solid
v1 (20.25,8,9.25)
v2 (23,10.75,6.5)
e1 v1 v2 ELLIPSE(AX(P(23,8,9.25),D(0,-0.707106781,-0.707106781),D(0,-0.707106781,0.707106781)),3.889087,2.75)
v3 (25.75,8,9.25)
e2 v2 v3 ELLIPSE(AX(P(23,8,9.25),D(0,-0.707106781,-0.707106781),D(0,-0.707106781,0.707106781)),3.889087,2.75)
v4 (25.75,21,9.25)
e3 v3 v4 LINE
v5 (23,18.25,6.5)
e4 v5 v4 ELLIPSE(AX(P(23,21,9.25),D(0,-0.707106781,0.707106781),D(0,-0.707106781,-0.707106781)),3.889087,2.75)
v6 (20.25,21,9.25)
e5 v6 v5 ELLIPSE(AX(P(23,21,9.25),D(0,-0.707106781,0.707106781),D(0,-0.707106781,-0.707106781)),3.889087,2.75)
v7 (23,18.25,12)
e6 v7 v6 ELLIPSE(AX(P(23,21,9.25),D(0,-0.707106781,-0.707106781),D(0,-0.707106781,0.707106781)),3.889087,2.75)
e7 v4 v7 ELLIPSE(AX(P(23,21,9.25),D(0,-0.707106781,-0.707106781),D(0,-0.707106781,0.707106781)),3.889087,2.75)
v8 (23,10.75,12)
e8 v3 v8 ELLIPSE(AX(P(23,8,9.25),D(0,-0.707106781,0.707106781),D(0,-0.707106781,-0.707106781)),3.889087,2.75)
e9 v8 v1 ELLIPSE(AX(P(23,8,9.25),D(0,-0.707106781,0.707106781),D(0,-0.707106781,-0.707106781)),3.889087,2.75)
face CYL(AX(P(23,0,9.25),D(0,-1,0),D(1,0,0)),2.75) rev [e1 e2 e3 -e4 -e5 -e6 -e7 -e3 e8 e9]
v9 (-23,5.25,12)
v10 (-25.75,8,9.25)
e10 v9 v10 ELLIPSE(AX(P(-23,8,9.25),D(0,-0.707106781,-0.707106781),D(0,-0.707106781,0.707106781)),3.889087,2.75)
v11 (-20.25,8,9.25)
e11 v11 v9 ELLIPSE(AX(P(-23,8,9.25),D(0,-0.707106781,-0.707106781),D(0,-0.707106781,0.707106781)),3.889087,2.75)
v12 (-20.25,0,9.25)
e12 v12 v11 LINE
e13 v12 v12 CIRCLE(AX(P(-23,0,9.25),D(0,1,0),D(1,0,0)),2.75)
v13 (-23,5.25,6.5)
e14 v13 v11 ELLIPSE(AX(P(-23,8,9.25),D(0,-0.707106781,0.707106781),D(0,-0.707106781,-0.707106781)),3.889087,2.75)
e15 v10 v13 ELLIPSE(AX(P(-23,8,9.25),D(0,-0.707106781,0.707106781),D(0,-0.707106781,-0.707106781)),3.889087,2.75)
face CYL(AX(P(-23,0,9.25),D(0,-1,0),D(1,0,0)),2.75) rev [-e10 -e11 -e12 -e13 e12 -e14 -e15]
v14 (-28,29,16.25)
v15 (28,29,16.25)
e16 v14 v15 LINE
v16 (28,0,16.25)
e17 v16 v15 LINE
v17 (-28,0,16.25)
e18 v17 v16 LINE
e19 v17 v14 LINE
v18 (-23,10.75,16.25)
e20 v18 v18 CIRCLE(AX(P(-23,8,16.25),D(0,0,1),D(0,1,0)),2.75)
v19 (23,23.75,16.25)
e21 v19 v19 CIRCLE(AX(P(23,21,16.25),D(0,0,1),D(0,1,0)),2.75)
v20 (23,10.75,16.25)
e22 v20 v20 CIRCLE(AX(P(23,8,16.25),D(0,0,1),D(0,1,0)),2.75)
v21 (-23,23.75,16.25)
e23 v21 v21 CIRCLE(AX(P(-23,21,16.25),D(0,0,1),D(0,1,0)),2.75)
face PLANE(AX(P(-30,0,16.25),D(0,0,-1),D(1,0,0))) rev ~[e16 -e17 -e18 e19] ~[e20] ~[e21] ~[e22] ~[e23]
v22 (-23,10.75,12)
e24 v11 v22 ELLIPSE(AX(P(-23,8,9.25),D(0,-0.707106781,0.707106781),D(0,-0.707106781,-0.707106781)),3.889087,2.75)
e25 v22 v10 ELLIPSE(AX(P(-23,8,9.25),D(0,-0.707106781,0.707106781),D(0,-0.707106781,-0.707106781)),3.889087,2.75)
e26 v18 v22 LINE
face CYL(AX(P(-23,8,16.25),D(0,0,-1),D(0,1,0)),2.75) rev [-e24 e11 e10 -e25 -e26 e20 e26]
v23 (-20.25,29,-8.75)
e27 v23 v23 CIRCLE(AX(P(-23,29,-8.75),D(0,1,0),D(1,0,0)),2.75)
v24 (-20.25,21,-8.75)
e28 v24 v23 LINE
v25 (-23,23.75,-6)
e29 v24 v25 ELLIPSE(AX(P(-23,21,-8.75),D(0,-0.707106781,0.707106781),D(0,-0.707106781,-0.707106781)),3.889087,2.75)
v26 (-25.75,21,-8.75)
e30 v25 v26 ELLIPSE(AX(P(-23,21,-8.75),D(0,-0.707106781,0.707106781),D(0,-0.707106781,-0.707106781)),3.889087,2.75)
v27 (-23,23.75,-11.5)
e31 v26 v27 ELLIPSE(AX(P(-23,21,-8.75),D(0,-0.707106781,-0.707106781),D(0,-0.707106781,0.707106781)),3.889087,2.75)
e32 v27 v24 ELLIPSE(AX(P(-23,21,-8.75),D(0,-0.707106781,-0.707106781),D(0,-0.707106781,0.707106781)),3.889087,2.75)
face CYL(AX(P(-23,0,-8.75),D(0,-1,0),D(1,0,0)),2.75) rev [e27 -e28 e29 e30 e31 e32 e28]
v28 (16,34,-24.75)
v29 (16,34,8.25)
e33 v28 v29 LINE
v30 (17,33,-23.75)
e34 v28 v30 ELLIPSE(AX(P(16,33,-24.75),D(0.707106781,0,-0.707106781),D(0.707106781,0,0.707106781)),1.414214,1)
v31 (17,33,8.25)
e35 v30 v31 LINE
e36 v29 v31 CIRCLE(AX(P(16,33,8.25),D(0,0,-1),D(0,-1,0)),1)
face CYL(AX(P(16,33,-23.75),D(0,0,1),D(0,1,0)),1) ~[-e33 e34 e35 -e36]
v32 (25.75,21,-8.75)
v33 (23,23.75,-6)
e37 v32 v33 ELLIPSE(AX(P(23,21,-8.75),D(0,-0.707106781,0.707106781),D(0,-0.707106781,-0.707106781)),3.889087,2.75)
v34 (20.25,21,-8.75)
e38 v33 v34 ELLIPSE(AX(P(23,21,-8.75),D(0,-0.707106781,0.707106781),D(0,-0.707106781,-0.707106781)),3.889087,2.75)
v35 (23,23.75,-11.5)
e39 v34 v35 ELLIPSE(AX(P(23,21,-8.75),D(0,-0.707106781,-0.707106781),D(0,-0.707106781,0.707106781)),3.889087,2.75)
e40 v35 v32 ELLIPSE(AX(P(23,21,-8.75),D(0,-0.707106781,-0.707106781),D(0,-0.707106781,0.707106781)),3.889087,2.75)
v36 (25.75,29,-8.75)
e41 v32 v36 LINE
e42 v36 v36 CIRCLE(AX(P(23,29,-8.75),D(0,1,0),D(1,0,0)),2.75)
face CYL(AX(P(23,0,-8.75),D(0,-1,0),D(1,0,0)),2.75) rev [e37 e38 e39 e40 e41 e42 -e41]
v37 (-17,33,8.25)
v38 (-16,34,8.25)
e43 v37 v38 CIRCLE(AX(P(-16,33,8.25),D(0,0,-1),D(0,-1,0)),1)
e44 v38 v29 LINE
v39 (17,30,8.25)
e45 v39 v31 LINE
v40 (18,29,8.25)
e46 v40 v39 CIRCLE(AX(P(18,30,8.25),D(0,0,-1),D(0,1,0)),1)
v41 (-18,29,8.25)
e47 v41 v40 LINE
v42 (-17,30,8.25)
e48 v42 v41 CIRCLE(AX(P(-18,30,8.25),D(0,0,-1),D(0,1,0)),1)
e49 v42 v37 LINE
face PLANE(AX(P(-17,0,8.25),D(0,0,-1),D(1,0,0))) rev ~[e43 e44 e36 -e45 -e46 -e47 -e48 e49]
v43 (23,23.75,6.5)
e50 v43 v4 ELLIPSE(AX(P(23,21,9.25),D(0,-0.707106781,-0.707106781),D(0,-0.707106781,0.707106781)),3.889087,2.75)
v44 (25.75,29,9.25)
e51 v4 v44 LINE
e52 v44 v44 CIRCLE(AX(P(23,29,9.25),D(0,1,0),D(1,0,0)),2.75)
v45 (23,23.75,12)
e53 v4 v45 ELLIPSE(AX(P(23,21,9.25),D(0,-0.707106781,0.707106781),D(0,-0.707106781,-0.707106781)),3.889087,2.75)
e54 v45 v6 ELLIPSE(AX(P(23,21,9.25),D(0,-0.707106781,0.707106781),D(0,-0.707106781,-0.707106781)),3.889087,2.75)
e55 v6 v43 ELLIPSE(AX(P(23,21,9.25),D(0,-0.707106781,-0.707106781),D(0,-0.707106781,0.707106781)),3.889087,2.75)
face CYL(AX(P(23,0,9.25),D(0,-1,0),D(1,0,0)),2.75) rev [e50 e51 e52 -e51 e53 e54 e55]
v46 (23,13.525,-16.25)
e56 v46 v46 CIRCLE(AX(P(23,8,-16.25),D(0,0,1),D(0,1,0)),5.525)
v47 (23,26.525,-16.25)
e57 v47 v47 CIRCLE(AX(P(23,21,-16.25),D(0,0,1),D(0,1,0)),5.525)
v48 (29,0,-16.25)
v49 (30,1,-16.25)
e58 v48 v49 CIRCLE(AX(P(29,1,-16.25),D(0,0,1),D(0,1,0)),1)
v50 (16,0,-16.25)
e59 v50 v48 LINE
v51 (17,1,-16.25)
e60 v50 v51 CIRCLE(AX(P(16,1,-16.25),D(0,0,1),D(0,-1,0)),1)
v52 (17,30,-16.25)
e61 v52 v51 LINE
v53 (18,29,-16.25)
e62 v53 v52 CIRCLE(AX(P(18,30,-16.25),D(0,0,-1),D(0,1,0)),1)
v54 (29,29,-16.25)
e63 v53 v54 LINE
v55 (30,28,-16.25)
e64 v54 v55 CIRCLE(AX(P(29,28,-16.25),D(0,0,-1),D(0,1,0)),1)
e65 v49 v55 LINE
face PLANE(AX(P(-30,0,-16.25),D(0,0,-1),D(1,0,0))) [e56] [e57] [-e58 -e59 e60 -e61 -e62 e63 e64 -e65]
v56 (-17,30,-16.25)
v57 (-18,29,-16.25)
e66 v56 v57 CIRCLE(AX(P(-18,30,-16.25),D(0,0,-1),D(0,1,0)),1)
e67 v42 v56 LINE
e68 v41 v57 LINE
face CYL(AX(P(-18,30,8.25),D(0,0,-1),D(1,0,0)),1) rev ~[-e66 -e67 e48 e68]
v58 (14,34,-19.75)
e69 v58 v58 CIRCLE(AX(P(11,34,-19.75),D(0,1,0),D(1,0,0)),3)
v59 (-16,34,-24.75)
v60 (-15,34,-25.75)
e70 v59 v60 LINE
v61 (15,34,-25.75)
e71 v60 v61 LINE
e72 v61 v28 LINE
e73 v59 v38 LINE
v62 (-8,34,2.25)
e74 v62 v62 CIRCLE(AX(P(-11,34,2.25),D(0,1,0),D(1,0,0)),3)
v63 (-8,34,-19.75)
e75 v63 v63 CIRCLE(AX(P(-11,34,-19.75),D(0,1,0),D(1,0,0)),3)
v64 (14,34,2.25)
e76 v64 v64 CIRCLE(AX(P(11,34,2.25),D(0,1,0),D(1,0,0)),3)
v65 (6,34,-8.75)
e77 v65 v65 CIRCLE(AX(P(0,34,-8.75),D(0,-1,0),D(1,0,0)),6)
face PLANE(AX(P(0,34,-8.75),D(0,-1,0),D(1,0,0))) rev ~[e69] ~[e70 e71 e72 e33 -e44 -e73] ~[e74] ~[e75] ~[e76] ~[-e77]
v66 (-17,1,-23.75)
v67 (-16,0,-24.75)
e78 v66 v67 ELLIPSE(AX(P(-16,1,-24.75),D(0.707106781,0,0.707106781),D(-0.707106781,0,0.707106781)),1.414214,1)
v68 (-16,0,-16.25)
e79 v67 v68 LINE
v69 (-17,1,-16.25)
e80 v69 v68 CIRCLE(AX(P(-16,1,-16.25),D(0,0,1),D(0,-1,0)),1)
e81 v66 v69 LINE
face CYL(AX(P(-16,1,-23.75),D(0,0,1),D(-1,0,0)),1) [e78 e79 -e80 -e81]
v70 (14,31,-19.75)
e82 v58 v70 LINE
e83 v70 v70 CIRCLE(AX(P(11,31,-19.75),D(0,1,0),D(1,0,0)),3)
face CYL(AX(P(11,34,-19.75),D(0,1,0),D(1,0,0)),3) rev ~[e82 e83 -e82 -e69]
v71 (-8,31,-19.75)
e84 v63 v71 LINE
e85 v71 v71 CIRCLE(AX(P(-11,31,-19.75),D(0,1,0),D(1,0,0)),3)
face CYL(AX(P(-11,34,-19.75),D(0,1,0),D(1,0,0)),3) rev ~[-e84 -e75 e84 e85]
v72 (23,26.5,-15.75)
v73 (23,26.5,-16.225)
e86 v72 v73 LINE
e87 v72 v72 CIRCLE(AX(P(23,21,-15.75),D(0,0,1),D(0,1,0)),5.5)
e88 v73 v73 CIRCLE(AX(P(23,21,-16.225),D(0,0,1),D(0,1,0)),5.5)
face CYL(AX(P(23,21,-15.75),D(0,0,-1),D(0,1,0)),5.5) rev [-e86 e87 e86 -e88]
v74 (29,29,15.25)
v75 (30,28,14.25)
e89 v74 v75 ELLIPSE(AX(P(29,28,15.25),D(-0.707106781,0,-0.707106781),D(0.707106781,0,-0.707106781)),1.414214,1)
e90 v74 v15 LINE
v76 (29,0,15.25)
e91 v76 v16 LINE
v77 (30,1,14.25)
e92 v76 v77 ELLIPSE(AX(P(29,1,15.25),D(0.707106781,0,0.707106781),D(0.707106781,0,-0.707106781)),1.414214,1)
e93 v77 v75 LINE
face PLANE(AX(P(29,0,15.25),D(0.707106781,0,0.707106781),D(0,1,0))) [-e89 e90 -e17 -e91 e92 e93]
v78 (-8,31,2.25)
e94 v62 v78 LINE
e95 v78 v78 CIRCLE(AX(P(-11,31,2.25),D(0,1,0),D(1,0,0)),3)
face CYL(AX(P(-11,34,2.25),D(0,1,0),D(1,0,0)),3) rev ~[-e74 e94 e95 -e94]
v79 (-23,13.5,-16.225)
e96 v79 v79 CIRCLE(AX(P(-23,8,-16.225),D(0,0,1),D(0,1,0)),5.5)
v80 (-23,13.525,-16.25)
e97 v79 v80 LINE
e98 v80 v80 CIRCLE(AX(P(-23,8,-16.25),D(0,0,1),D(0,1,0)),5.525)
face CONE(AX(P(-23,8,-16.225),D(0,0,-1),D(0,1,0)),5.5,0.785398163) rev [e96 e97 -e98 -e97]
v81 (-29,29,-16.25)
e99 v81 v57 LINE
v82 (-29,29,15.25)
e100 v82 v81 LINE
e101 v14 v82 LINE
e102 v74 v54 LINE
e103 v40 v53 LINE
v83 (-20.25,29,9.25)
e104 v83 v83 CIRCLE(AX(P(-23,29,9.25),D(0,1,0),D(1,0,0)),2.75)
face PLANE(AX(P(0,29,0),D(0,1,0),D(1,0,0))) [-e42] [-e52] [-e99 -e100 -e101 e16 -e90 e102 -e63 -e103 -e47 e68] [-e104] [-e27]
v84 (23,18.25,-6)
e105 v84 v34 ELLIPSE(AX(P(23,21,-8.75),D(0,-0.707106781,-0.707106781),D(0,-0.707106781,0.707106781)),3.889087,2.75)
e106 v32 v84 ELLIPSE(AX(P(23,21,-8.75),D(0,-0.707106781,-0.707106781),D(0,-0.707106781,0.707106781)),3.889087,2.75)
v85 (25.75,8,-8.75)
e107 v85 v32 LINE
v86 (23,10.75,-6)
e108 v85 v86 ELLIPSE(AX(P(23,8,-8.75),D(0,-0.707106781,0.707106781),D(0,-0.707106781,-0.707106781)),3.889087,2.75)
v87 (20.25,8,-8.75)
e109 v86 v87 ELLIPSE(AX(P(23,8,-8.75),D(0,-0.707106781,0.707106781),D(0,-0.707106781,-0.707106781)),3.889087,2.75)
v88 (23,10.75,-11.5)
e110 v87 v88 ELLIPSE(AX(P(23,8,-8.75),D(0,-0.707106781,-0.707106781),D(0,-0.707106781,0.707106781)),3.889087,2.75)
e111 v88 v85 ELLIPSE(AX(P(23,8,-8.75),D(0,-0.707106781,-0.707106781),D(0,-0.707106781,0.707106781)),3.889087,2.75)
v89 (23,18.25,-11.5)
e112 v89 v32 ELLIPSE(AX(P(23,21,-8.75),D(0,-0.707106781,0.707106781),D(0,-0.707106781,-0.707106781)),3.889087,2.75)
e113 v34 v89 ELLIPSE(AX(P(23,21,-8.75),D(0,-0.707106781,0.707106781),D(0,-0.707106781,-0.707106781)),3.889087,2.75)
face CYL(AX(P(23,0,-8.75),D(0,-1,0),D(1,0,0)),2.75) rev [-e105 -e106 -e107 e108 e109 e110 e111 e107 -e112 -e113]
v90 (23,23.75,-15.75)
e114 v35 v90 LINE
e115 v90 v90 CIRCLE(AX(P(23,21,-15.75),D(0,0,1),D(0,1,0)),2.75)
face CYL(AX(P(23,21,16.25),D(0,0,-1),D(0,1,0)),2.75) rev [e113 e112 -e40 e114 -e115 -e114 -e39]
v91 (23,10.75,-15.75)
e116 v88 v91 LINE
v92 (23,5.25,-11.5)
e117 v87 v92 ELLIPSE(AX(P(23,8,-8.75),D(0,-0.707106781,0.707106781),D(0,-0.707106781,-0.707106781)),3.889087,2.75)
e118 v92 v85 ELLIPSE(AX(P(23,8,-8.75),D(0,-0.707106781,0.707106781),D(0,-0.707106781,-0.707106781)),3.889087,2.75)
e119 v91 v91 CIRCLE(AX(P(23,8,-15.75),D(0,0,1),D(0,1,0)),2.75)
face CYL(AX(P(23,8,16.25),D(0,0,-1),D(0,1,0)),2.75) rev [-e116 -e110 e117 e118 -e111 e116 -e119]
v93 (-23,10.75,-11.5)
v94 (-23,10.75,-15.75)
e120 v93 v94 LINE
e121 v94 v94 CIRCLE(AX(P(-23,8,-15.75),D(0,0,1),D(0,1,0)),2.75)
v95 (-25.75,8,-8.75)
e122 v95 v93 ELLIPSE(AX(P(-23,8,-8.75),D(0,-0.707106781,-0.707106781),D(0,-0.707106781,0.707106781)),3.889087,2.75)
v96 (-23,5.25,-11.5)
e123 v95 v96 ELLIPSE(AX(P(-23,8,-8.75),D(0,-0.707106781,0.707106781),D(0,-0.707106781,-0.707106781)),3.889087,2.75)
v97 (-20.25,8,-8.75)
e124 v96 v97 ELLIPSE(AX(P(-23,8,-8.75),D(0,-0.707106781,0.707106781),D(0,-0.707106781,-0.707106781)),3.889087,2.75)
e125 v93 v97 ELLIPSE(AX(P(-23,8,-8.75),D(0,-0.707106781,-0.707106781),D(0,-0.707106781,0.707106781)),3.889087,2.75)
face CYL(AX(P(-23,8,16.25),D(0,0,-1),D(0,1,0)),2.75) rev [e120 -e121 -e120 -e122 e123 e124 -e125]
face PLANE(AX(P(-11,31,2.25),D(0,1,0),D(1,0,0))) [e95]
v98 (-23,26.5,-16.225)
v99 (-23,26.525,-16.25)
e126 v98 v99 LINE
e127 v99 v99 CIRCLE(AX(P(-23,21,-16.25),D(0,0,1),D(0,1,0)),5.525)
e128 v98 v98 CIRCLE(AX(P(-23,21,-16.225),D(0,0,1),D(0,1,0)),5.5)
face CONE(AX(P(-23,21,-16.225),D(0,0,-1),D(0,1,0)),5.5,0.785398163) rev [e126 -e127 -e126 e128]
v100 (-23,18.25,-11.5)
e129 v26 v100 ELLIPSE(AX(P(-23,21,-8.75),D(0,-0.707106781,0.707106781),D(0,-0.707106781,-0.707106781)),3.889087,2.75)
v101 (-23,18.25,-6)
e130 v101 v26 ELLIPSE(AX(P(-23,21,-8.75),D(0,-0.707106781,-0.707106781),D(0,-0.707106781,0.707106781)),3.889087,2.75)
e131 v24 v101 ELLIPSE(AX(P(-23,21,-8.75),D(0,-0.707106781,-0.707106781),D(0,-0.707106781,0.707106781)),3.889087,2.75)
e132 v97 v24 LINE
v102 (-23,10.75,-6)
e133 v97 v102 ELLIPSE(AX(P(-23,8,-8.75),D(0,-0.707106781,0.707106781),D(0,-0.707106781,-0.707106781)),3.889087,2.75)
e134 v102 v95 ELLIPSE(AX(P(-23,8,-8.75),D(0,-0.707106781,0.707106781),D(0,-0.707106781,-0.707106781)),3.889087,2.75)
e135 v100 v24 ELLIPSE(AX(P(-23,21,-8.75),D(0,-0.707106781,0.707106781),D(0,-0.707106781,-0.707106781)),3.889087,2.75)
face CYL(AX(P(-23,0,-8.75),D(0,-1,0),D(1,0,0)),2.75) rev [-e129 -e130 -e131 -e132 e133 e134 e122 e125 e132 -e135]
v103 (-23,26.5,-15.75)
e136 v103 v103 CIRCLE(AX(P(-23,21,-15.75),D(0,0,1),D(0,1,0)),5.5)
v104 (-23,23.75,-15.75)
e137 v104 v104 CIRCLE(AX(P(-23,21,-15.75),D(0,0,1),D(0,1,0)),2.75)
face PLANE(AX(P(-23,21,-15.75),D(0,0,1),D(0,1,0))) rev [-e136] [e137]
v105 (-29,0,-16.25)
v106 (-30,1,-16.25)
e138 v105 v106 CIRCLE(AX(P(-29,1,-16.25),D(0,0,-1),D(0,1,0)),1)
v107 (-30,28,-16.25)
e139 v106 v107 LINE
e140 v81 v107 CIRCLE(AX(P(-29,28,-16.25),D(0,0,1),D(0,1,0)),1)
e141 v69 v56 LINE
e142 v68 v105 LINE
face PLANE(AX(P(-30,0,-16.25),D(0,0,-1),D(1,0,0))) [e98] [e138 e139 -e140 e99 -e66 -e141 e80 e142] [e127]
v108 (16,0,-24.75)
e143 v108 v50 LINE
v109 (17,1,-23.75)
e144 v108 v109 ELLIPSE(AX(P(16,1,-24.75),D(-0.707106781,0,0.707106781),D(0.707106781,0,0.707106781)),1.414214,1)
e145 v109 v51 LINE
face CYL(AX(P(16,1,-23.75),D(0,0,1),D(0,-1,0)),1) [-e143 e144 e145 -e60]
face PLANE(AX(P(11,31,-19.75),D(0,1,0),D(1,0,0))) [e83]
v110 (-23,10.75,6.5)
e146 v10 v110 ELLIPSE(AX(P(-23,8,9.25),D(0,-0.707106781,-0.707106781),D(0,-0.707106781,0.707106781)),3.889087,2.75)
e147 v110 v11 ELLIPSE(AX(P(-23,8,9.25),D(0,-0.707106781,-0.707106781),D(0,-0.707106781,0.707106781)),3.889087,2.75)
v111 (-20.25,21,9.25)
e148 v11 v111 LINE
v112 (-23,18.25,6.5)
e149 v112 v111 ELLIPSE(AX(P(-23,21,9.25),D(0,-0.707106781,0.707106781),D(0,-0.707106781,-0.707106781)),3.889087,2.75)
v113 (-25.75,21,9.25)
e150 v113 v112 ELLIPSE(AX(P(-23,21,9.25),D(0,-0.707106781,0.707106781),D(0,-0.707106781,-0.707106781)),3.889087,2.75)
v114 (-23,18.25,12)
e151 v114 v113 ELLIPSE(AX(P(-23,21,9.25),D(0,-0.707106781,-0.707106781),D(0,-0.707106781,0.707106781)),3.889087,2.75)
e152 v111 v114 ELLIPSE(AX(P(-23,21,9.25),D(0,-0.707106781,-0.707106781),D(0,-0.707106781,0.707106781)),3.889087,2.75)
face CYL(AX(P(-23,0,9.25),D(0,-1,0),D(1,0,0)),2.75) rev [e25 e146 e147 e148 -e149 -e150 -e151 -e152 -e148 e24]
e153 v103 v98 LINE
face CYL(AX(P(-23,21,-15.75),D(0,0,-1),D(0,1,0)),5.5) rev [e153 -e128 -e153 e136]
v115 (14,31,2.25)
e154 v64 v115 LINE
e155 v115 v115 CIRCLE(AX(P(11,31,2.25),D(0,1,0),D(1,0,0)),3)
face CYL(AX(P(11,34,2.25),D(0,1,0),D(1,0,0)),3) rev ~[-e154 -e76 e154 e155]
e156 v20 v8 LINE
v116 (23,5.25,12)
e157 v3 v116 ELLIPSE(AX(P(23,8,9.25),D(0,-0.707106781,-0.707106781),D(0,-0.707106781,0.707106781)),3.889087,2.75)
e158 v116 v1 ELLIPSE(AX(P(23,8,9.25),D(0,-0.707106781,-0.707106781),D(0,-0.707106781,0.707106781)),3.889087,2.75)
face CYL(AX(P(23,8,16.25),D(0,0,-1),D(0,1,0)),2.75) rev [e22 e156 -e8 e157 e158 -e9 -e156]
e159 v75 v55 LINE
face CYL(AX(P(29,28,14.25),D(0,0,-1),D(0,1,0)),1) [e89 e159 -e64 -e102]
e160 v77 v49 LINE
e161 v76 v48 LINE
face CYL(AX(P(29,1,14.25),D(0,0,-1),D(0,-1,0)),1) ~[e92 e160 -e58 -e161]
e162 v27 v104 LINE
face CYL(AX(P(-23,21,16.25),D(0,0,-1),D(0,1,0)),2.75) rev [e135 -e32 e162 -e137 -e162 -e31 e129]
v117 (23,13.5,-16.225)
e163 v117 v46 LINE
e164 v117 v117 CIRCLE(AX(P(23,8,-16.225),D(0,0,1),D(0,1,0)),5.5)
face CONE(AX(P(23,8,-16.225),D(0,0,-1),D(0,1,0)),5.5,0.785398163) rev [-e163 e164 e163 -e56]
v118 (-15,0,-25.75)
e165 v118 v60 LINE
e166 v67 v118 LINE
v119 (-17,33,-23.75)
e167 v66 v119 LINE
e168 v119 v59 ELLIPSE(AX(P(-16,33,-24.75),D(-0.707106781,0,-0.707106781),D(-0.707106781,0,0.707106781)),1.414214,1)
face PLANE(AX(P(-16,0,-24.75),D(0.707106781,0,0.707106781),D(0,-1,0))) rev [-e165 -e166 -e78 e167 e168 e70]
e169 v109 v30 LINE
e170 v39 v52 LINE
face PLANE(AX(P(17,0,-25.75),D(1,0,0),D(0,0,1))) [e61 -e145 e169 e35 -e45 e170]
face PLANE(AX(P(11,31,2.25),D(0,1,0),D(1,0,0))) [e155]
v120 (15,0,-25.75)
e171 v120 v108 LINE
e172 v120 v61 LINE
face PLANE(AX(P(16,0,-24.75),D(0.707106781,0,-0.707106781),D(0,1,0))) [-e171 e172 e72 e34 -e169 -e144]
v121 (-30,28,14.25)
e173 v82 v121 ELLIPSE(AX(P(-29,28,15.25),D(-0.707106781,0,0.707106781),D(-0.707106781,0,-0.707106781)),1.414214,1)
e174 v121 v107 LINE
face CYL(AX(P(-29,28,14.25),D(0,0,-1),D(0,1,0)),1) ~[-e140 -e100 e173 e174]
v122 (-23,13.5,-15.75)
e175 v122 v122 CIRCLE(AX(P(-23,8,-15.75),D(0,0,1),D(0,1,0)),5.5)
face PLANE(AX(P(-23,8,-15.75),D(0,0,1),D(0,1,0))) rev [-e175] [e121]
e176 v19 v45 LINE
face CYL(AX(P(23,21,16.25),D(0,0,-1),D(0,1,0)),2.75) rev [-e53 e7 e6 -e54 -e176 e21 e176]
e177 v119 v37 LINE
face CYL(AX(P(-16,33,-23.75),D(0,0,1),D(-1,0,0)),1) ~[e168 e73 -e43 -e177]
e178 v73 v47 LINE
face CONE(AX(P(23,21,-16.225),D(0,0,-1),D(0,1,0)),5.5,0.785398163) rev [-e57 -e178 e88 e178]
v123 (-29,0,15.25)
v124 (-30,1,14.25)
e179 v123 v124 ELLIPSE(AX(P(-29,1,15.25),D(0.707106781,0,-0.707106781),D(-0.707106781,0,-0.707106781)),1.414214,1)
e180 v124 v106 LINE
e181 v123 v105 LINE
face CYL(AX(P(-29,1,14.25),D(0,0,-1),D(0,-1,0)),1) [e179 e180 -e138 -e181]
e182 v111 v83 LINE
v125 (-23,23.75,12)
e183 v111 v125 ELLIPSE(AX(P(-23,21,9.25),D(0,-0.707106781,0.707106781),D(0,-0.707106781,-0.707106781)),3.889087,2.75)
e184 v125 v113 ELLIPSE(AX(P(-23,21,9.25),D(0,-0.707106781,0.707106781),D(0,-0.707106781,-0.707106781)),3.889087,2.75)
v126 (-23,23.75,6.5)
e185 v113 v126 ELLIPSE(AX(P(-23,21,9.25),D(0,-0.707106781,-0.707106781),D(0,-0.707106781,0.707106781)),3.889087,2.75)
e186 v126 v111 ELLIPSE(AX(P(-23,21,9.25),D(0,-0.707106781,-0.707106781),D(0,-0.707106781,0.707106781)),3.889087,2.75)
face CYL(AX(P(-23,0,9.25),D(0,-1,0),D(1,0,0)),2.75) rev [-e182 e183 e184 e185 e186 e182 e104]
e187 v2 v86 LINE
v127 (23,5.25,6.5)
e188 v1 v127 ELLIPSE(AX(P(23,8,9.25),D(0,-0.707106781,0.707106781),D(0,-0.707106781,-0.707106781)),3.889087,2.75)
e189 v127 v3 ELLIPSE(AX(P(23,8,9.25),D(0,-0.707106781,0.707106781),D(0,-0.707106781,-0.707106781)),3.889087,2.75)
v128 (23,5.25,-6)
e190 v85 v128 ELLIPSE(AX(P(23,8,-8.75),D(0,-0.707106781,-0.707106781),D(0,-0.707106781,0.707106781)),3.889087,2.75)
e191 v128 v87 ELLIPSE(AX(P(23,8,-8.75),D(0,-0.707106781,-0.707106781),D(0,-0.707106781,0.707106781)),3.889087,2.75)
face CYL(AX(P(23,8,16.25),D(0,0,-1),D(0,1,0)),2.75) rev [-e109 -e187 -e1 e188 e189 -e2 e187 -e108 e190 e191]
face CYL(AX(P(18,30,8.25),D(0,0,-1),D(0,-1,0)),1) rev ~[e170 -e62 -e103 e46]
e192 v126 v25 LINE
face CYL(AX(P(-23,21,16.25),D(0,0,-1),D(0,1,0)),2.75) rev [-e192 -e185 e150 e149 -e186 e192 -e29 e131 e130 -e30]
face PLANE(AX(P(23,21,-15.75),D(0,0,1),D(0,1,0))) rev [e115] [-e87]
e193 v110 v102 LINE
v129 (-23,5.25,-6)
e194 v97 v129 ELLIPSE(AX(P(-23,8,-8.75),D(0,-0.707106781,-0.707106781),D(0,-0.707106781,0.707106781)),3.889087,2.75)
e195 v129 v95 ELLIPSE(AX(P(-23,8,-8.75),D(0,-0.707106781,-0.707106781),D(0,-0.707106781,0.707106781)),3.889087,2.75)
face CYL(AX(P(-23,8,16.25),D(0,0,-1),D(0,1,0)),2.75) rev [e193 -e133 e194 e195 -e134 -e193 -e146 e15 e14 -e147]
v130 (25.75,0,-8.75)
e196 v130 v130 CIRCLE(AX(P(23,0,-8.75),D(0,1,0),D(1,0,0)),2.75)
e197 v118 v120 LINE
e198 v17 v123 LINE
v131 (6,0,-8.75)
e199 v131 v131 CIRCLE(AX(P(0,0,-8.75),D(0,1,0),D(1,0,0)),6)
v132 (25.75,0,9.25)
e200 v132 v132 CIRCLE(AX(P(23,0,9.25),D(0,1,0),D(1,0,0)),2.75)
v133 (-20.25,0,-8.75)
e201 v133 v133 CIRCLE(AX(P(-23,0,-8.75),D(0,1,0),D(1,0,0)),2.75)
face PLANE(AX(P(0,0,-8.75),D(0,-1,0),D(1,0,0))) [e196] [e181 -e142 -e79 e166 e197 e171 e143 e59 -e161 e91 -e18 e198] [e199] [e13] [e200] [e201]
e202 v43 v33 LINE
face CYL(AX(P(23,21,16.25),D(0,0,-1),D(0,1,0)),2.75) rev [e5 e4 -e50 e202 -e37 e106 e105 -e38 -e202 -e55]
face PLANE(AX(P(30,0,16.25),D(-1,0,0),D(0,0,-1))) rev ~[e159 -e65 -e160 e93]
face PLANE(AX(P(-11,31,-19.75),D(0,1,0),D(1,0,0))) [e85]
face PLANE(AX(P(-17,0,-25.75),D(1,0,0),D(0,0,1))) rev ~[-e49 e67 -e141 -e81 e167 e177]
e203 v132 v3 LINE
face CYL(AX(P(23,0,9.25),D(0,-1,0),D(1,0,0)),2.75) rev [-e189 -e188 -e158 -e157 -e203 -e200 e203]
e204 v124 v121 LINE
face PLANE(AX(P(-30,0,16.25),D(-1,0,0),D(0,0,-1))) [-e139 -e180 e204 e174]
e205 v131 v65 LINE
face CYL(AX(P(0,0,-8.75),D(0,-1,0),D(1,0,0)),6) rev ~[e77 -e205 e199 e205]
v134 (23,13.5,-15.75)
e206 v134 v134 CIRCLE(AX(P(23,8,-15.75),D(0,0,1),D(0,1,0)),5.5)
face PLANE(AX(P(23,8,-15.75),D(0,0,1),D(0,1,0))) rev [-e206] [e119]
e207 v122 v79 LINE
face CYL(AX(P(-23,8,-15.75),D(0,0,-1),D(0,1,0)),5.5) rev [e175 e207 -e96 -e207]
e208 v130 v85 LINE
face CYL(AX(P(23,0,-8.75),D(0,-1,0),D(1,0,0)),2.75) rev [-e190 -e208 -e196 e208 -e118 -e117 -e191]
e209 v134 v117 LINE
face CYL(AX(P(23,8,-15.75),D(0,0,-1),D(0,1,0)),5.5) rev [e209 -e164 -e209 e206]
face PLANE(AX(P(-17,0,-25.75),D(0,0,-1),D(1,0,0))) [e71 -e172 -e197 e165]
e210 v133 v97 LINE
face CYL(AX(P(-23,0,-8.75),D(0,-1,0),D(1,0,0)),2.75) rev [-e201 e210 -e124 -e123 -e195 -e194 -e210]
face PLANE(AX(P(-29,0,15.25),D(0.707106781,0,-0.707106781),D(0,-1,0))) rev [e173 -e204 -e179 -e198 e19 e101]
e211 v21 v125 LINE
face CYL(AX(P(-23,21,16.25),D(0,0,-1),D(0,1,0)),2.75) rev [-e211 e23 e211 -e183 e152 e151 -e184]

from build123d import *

# Parameters (mm, degrees)
SKETCH_1_W                  = 60
SKETCH_1_H                  = 32.5
SKETCH_1_R                  = 6
SKETCH_1_R_2                = 2.75
EXTRUDE_1_DEPTH             = 29
SKETCH_2_W                  = 34
SKETCH_2_H                  = 34
SKETCH_2_R                  = 6
EXTRUDE_2_DEPTH             = 34
SKETCH_3_R                  = 3
CUT_EXTRUDE_1_DEPTH         = 3
CHAMFER_1_SIZE              = 2
FILLET_1_R                  = 1
HOLE_WIZARD_M5_1_AT_2_COUNT = 2
HOLE_WIZARD_M5_1_AT_2_PITCH = 13
HOLE_WIZARD_M5_1_AT_3_COUNT = 2
HOLE_WIZARD_M5_1_AT_3_PITCH = 46
HOLE_WIZARD_M5_1_AT_4_COUNT = 2
HOLE_WIZARD_M5_1_AT_4_PITCH = 47.801673611


with BuildPart() as part:
    # 草图1 → 凸台-拉伸1 (new body)
    with BuildSketch(Plane(origin=(0, 0, 0), x_dir=(1, 0, 0), z_dir=(0, 1, 0))):
        Rectangle(SKETCH_1_W, SKETCH_1_H)
        with Locations((0, 8.75)):
            Circle(SKETCH_1_R, mode=Mode.SUBTRACT)
        with Locations((-23, 8.75)):
            Circle(SKETCH_1_R_2, mode=Mode.SUBTRACT)
        with Locations((-23, -9.25)):
            Circle(SKETCH_1_R_2, mode=Mode.SUBTRACT)
        with Locations((23, -9.25)):
            Circle(SKETCH_1_R_2, mode=Mode.SUBTRACT)
        with Locations((23, 8.75)):
            Circle(SKETCH_1_R_2, mode=Mode.SUBTRACT)
    extrude(amount=EXTRUDE_1_DEPTH)

    # 草图2 → 凸台-拉伸2 (add)
    with BuildSketch(Plane.XZ):
        with Locations((0, -8.75)):
            Rectangle(SKETCH_2_W, SKETCH_2_H)
        with Locations((0, -8.75)):
            Circle(SKETCH_2_R, mode=Mode.SUBTRACT)
    extrude(amount=-EXTRUDE_2_DEPTH)

    # 草图3 → 切除-拉伸1 (cut)
    with BuildSketch(Plane(origin=(0, 34, 0), x_dir=(1, 0, 0), z_dir=(0, 1, 0))):
        with Locations((-11, 19.75)):
            Circle(SKETCH_3_R)
        with Locations((11, 19.75)):
            Circle(SKETCH_3_R)
        with Locations((-11, -2.25)):
            Circle(SKETCH_3_R)
        with Locations((11, -2.25)):
            Circle(SKETCH_3_R)
    extrude(amount=-CUT_EXTRUDE_1_DEPTH, mode=Mode.SUBTRACT)

    # 倒角1
    chamfer_1_edges = [part.edges().sort_by_distance(p)[0] for p in [
        (-17, 17, -25.75),
        (17, 17, -25.75),
        (30, 14.5, 16.25),
        (-30, 14.5, 16.25),
    ]]
    chamfer(chamfer_1_edges, length=CHAMFER_1_SIZE)

    # 圆角1
    fillet_1_edges = [part.edges().sort_by_distance(p)[0] for p in [
        (-30, 29, -1),
        (-17, 0, -20),
        (-17, 29, -4),
        (-17, 34, -7.75),
        (17, 29, -4),
        (-30, 0, -1),
        (17, 0, -20),
        (30, 0, -1),
        (30, 29, -1),
        (17, 34, -7.75),
    ]]
    fillet(fillet_1_edges, radius=FILLET_1_R)

    # 草图7 → M5 六角头螺栓的柱形沉头孔1 (revolve, cut)
    with BuildSketch(Plane(origin=(-23, 8, -16.25), x_dir=(0, 1, 0), z_dir=(1, 0, 0))):
        Polygon((0, 0), (0, 32.5), (2.75, 32.5), (2.75, 0.5), (5.5, 0.5), (5.5, 0.025), (5.525, 0), align=None)
    hole_wizard_m5_1 = revolve(axis=Axis((-23, 8, -22.6), (0, 0, 1)), mode=Mode.SUBTRACT)

    # M5 六角头螺栓的柱形沉头孔1 at 2: M5 六角头螺栓的柱形沉头孔1 ×2
    with Locations(*[(0, i * HOLE_WIZARD_M5_1_AT_2_PITCH, 0) for i in range(1, HOLE_WIZARD_M5_1_AT_2_COUNT)]):
        add(hole_wizard_m5_1, mode=Mode.SUBTRACT)

    # M5 六角头螺栓的柱形沉头孔1 at 3: M5 六角头螺栓的柱形沉头孔1 ×2
    with Locations(*[(i * HOLE_WIZARD_M5_1_AT_3_PITCH, 0, 0) for i in range(1, HOLE_WIZARD_M5_1_AT_3_COUNT)]):
        add(hole_wizard_m5_1, mode=Mode.SUBTRACT)

    # M5 六角头螺栓的柱形沉头孔1 at 4: M5 六角头螺栓的柱形沉头孔1 ×2
    with Locations(*[Vector(0.962309403, 0.271957005, 0) * (i * HOLE_WIZARD_M5_1_AT_4_PITCH) for i in range(1, HOLE_WIZARD_M5_1_AT_4_COUNT)]):
        add(hole_wizard_m5_1, mode=Mode.SUBTRACT)


solid = part.part
